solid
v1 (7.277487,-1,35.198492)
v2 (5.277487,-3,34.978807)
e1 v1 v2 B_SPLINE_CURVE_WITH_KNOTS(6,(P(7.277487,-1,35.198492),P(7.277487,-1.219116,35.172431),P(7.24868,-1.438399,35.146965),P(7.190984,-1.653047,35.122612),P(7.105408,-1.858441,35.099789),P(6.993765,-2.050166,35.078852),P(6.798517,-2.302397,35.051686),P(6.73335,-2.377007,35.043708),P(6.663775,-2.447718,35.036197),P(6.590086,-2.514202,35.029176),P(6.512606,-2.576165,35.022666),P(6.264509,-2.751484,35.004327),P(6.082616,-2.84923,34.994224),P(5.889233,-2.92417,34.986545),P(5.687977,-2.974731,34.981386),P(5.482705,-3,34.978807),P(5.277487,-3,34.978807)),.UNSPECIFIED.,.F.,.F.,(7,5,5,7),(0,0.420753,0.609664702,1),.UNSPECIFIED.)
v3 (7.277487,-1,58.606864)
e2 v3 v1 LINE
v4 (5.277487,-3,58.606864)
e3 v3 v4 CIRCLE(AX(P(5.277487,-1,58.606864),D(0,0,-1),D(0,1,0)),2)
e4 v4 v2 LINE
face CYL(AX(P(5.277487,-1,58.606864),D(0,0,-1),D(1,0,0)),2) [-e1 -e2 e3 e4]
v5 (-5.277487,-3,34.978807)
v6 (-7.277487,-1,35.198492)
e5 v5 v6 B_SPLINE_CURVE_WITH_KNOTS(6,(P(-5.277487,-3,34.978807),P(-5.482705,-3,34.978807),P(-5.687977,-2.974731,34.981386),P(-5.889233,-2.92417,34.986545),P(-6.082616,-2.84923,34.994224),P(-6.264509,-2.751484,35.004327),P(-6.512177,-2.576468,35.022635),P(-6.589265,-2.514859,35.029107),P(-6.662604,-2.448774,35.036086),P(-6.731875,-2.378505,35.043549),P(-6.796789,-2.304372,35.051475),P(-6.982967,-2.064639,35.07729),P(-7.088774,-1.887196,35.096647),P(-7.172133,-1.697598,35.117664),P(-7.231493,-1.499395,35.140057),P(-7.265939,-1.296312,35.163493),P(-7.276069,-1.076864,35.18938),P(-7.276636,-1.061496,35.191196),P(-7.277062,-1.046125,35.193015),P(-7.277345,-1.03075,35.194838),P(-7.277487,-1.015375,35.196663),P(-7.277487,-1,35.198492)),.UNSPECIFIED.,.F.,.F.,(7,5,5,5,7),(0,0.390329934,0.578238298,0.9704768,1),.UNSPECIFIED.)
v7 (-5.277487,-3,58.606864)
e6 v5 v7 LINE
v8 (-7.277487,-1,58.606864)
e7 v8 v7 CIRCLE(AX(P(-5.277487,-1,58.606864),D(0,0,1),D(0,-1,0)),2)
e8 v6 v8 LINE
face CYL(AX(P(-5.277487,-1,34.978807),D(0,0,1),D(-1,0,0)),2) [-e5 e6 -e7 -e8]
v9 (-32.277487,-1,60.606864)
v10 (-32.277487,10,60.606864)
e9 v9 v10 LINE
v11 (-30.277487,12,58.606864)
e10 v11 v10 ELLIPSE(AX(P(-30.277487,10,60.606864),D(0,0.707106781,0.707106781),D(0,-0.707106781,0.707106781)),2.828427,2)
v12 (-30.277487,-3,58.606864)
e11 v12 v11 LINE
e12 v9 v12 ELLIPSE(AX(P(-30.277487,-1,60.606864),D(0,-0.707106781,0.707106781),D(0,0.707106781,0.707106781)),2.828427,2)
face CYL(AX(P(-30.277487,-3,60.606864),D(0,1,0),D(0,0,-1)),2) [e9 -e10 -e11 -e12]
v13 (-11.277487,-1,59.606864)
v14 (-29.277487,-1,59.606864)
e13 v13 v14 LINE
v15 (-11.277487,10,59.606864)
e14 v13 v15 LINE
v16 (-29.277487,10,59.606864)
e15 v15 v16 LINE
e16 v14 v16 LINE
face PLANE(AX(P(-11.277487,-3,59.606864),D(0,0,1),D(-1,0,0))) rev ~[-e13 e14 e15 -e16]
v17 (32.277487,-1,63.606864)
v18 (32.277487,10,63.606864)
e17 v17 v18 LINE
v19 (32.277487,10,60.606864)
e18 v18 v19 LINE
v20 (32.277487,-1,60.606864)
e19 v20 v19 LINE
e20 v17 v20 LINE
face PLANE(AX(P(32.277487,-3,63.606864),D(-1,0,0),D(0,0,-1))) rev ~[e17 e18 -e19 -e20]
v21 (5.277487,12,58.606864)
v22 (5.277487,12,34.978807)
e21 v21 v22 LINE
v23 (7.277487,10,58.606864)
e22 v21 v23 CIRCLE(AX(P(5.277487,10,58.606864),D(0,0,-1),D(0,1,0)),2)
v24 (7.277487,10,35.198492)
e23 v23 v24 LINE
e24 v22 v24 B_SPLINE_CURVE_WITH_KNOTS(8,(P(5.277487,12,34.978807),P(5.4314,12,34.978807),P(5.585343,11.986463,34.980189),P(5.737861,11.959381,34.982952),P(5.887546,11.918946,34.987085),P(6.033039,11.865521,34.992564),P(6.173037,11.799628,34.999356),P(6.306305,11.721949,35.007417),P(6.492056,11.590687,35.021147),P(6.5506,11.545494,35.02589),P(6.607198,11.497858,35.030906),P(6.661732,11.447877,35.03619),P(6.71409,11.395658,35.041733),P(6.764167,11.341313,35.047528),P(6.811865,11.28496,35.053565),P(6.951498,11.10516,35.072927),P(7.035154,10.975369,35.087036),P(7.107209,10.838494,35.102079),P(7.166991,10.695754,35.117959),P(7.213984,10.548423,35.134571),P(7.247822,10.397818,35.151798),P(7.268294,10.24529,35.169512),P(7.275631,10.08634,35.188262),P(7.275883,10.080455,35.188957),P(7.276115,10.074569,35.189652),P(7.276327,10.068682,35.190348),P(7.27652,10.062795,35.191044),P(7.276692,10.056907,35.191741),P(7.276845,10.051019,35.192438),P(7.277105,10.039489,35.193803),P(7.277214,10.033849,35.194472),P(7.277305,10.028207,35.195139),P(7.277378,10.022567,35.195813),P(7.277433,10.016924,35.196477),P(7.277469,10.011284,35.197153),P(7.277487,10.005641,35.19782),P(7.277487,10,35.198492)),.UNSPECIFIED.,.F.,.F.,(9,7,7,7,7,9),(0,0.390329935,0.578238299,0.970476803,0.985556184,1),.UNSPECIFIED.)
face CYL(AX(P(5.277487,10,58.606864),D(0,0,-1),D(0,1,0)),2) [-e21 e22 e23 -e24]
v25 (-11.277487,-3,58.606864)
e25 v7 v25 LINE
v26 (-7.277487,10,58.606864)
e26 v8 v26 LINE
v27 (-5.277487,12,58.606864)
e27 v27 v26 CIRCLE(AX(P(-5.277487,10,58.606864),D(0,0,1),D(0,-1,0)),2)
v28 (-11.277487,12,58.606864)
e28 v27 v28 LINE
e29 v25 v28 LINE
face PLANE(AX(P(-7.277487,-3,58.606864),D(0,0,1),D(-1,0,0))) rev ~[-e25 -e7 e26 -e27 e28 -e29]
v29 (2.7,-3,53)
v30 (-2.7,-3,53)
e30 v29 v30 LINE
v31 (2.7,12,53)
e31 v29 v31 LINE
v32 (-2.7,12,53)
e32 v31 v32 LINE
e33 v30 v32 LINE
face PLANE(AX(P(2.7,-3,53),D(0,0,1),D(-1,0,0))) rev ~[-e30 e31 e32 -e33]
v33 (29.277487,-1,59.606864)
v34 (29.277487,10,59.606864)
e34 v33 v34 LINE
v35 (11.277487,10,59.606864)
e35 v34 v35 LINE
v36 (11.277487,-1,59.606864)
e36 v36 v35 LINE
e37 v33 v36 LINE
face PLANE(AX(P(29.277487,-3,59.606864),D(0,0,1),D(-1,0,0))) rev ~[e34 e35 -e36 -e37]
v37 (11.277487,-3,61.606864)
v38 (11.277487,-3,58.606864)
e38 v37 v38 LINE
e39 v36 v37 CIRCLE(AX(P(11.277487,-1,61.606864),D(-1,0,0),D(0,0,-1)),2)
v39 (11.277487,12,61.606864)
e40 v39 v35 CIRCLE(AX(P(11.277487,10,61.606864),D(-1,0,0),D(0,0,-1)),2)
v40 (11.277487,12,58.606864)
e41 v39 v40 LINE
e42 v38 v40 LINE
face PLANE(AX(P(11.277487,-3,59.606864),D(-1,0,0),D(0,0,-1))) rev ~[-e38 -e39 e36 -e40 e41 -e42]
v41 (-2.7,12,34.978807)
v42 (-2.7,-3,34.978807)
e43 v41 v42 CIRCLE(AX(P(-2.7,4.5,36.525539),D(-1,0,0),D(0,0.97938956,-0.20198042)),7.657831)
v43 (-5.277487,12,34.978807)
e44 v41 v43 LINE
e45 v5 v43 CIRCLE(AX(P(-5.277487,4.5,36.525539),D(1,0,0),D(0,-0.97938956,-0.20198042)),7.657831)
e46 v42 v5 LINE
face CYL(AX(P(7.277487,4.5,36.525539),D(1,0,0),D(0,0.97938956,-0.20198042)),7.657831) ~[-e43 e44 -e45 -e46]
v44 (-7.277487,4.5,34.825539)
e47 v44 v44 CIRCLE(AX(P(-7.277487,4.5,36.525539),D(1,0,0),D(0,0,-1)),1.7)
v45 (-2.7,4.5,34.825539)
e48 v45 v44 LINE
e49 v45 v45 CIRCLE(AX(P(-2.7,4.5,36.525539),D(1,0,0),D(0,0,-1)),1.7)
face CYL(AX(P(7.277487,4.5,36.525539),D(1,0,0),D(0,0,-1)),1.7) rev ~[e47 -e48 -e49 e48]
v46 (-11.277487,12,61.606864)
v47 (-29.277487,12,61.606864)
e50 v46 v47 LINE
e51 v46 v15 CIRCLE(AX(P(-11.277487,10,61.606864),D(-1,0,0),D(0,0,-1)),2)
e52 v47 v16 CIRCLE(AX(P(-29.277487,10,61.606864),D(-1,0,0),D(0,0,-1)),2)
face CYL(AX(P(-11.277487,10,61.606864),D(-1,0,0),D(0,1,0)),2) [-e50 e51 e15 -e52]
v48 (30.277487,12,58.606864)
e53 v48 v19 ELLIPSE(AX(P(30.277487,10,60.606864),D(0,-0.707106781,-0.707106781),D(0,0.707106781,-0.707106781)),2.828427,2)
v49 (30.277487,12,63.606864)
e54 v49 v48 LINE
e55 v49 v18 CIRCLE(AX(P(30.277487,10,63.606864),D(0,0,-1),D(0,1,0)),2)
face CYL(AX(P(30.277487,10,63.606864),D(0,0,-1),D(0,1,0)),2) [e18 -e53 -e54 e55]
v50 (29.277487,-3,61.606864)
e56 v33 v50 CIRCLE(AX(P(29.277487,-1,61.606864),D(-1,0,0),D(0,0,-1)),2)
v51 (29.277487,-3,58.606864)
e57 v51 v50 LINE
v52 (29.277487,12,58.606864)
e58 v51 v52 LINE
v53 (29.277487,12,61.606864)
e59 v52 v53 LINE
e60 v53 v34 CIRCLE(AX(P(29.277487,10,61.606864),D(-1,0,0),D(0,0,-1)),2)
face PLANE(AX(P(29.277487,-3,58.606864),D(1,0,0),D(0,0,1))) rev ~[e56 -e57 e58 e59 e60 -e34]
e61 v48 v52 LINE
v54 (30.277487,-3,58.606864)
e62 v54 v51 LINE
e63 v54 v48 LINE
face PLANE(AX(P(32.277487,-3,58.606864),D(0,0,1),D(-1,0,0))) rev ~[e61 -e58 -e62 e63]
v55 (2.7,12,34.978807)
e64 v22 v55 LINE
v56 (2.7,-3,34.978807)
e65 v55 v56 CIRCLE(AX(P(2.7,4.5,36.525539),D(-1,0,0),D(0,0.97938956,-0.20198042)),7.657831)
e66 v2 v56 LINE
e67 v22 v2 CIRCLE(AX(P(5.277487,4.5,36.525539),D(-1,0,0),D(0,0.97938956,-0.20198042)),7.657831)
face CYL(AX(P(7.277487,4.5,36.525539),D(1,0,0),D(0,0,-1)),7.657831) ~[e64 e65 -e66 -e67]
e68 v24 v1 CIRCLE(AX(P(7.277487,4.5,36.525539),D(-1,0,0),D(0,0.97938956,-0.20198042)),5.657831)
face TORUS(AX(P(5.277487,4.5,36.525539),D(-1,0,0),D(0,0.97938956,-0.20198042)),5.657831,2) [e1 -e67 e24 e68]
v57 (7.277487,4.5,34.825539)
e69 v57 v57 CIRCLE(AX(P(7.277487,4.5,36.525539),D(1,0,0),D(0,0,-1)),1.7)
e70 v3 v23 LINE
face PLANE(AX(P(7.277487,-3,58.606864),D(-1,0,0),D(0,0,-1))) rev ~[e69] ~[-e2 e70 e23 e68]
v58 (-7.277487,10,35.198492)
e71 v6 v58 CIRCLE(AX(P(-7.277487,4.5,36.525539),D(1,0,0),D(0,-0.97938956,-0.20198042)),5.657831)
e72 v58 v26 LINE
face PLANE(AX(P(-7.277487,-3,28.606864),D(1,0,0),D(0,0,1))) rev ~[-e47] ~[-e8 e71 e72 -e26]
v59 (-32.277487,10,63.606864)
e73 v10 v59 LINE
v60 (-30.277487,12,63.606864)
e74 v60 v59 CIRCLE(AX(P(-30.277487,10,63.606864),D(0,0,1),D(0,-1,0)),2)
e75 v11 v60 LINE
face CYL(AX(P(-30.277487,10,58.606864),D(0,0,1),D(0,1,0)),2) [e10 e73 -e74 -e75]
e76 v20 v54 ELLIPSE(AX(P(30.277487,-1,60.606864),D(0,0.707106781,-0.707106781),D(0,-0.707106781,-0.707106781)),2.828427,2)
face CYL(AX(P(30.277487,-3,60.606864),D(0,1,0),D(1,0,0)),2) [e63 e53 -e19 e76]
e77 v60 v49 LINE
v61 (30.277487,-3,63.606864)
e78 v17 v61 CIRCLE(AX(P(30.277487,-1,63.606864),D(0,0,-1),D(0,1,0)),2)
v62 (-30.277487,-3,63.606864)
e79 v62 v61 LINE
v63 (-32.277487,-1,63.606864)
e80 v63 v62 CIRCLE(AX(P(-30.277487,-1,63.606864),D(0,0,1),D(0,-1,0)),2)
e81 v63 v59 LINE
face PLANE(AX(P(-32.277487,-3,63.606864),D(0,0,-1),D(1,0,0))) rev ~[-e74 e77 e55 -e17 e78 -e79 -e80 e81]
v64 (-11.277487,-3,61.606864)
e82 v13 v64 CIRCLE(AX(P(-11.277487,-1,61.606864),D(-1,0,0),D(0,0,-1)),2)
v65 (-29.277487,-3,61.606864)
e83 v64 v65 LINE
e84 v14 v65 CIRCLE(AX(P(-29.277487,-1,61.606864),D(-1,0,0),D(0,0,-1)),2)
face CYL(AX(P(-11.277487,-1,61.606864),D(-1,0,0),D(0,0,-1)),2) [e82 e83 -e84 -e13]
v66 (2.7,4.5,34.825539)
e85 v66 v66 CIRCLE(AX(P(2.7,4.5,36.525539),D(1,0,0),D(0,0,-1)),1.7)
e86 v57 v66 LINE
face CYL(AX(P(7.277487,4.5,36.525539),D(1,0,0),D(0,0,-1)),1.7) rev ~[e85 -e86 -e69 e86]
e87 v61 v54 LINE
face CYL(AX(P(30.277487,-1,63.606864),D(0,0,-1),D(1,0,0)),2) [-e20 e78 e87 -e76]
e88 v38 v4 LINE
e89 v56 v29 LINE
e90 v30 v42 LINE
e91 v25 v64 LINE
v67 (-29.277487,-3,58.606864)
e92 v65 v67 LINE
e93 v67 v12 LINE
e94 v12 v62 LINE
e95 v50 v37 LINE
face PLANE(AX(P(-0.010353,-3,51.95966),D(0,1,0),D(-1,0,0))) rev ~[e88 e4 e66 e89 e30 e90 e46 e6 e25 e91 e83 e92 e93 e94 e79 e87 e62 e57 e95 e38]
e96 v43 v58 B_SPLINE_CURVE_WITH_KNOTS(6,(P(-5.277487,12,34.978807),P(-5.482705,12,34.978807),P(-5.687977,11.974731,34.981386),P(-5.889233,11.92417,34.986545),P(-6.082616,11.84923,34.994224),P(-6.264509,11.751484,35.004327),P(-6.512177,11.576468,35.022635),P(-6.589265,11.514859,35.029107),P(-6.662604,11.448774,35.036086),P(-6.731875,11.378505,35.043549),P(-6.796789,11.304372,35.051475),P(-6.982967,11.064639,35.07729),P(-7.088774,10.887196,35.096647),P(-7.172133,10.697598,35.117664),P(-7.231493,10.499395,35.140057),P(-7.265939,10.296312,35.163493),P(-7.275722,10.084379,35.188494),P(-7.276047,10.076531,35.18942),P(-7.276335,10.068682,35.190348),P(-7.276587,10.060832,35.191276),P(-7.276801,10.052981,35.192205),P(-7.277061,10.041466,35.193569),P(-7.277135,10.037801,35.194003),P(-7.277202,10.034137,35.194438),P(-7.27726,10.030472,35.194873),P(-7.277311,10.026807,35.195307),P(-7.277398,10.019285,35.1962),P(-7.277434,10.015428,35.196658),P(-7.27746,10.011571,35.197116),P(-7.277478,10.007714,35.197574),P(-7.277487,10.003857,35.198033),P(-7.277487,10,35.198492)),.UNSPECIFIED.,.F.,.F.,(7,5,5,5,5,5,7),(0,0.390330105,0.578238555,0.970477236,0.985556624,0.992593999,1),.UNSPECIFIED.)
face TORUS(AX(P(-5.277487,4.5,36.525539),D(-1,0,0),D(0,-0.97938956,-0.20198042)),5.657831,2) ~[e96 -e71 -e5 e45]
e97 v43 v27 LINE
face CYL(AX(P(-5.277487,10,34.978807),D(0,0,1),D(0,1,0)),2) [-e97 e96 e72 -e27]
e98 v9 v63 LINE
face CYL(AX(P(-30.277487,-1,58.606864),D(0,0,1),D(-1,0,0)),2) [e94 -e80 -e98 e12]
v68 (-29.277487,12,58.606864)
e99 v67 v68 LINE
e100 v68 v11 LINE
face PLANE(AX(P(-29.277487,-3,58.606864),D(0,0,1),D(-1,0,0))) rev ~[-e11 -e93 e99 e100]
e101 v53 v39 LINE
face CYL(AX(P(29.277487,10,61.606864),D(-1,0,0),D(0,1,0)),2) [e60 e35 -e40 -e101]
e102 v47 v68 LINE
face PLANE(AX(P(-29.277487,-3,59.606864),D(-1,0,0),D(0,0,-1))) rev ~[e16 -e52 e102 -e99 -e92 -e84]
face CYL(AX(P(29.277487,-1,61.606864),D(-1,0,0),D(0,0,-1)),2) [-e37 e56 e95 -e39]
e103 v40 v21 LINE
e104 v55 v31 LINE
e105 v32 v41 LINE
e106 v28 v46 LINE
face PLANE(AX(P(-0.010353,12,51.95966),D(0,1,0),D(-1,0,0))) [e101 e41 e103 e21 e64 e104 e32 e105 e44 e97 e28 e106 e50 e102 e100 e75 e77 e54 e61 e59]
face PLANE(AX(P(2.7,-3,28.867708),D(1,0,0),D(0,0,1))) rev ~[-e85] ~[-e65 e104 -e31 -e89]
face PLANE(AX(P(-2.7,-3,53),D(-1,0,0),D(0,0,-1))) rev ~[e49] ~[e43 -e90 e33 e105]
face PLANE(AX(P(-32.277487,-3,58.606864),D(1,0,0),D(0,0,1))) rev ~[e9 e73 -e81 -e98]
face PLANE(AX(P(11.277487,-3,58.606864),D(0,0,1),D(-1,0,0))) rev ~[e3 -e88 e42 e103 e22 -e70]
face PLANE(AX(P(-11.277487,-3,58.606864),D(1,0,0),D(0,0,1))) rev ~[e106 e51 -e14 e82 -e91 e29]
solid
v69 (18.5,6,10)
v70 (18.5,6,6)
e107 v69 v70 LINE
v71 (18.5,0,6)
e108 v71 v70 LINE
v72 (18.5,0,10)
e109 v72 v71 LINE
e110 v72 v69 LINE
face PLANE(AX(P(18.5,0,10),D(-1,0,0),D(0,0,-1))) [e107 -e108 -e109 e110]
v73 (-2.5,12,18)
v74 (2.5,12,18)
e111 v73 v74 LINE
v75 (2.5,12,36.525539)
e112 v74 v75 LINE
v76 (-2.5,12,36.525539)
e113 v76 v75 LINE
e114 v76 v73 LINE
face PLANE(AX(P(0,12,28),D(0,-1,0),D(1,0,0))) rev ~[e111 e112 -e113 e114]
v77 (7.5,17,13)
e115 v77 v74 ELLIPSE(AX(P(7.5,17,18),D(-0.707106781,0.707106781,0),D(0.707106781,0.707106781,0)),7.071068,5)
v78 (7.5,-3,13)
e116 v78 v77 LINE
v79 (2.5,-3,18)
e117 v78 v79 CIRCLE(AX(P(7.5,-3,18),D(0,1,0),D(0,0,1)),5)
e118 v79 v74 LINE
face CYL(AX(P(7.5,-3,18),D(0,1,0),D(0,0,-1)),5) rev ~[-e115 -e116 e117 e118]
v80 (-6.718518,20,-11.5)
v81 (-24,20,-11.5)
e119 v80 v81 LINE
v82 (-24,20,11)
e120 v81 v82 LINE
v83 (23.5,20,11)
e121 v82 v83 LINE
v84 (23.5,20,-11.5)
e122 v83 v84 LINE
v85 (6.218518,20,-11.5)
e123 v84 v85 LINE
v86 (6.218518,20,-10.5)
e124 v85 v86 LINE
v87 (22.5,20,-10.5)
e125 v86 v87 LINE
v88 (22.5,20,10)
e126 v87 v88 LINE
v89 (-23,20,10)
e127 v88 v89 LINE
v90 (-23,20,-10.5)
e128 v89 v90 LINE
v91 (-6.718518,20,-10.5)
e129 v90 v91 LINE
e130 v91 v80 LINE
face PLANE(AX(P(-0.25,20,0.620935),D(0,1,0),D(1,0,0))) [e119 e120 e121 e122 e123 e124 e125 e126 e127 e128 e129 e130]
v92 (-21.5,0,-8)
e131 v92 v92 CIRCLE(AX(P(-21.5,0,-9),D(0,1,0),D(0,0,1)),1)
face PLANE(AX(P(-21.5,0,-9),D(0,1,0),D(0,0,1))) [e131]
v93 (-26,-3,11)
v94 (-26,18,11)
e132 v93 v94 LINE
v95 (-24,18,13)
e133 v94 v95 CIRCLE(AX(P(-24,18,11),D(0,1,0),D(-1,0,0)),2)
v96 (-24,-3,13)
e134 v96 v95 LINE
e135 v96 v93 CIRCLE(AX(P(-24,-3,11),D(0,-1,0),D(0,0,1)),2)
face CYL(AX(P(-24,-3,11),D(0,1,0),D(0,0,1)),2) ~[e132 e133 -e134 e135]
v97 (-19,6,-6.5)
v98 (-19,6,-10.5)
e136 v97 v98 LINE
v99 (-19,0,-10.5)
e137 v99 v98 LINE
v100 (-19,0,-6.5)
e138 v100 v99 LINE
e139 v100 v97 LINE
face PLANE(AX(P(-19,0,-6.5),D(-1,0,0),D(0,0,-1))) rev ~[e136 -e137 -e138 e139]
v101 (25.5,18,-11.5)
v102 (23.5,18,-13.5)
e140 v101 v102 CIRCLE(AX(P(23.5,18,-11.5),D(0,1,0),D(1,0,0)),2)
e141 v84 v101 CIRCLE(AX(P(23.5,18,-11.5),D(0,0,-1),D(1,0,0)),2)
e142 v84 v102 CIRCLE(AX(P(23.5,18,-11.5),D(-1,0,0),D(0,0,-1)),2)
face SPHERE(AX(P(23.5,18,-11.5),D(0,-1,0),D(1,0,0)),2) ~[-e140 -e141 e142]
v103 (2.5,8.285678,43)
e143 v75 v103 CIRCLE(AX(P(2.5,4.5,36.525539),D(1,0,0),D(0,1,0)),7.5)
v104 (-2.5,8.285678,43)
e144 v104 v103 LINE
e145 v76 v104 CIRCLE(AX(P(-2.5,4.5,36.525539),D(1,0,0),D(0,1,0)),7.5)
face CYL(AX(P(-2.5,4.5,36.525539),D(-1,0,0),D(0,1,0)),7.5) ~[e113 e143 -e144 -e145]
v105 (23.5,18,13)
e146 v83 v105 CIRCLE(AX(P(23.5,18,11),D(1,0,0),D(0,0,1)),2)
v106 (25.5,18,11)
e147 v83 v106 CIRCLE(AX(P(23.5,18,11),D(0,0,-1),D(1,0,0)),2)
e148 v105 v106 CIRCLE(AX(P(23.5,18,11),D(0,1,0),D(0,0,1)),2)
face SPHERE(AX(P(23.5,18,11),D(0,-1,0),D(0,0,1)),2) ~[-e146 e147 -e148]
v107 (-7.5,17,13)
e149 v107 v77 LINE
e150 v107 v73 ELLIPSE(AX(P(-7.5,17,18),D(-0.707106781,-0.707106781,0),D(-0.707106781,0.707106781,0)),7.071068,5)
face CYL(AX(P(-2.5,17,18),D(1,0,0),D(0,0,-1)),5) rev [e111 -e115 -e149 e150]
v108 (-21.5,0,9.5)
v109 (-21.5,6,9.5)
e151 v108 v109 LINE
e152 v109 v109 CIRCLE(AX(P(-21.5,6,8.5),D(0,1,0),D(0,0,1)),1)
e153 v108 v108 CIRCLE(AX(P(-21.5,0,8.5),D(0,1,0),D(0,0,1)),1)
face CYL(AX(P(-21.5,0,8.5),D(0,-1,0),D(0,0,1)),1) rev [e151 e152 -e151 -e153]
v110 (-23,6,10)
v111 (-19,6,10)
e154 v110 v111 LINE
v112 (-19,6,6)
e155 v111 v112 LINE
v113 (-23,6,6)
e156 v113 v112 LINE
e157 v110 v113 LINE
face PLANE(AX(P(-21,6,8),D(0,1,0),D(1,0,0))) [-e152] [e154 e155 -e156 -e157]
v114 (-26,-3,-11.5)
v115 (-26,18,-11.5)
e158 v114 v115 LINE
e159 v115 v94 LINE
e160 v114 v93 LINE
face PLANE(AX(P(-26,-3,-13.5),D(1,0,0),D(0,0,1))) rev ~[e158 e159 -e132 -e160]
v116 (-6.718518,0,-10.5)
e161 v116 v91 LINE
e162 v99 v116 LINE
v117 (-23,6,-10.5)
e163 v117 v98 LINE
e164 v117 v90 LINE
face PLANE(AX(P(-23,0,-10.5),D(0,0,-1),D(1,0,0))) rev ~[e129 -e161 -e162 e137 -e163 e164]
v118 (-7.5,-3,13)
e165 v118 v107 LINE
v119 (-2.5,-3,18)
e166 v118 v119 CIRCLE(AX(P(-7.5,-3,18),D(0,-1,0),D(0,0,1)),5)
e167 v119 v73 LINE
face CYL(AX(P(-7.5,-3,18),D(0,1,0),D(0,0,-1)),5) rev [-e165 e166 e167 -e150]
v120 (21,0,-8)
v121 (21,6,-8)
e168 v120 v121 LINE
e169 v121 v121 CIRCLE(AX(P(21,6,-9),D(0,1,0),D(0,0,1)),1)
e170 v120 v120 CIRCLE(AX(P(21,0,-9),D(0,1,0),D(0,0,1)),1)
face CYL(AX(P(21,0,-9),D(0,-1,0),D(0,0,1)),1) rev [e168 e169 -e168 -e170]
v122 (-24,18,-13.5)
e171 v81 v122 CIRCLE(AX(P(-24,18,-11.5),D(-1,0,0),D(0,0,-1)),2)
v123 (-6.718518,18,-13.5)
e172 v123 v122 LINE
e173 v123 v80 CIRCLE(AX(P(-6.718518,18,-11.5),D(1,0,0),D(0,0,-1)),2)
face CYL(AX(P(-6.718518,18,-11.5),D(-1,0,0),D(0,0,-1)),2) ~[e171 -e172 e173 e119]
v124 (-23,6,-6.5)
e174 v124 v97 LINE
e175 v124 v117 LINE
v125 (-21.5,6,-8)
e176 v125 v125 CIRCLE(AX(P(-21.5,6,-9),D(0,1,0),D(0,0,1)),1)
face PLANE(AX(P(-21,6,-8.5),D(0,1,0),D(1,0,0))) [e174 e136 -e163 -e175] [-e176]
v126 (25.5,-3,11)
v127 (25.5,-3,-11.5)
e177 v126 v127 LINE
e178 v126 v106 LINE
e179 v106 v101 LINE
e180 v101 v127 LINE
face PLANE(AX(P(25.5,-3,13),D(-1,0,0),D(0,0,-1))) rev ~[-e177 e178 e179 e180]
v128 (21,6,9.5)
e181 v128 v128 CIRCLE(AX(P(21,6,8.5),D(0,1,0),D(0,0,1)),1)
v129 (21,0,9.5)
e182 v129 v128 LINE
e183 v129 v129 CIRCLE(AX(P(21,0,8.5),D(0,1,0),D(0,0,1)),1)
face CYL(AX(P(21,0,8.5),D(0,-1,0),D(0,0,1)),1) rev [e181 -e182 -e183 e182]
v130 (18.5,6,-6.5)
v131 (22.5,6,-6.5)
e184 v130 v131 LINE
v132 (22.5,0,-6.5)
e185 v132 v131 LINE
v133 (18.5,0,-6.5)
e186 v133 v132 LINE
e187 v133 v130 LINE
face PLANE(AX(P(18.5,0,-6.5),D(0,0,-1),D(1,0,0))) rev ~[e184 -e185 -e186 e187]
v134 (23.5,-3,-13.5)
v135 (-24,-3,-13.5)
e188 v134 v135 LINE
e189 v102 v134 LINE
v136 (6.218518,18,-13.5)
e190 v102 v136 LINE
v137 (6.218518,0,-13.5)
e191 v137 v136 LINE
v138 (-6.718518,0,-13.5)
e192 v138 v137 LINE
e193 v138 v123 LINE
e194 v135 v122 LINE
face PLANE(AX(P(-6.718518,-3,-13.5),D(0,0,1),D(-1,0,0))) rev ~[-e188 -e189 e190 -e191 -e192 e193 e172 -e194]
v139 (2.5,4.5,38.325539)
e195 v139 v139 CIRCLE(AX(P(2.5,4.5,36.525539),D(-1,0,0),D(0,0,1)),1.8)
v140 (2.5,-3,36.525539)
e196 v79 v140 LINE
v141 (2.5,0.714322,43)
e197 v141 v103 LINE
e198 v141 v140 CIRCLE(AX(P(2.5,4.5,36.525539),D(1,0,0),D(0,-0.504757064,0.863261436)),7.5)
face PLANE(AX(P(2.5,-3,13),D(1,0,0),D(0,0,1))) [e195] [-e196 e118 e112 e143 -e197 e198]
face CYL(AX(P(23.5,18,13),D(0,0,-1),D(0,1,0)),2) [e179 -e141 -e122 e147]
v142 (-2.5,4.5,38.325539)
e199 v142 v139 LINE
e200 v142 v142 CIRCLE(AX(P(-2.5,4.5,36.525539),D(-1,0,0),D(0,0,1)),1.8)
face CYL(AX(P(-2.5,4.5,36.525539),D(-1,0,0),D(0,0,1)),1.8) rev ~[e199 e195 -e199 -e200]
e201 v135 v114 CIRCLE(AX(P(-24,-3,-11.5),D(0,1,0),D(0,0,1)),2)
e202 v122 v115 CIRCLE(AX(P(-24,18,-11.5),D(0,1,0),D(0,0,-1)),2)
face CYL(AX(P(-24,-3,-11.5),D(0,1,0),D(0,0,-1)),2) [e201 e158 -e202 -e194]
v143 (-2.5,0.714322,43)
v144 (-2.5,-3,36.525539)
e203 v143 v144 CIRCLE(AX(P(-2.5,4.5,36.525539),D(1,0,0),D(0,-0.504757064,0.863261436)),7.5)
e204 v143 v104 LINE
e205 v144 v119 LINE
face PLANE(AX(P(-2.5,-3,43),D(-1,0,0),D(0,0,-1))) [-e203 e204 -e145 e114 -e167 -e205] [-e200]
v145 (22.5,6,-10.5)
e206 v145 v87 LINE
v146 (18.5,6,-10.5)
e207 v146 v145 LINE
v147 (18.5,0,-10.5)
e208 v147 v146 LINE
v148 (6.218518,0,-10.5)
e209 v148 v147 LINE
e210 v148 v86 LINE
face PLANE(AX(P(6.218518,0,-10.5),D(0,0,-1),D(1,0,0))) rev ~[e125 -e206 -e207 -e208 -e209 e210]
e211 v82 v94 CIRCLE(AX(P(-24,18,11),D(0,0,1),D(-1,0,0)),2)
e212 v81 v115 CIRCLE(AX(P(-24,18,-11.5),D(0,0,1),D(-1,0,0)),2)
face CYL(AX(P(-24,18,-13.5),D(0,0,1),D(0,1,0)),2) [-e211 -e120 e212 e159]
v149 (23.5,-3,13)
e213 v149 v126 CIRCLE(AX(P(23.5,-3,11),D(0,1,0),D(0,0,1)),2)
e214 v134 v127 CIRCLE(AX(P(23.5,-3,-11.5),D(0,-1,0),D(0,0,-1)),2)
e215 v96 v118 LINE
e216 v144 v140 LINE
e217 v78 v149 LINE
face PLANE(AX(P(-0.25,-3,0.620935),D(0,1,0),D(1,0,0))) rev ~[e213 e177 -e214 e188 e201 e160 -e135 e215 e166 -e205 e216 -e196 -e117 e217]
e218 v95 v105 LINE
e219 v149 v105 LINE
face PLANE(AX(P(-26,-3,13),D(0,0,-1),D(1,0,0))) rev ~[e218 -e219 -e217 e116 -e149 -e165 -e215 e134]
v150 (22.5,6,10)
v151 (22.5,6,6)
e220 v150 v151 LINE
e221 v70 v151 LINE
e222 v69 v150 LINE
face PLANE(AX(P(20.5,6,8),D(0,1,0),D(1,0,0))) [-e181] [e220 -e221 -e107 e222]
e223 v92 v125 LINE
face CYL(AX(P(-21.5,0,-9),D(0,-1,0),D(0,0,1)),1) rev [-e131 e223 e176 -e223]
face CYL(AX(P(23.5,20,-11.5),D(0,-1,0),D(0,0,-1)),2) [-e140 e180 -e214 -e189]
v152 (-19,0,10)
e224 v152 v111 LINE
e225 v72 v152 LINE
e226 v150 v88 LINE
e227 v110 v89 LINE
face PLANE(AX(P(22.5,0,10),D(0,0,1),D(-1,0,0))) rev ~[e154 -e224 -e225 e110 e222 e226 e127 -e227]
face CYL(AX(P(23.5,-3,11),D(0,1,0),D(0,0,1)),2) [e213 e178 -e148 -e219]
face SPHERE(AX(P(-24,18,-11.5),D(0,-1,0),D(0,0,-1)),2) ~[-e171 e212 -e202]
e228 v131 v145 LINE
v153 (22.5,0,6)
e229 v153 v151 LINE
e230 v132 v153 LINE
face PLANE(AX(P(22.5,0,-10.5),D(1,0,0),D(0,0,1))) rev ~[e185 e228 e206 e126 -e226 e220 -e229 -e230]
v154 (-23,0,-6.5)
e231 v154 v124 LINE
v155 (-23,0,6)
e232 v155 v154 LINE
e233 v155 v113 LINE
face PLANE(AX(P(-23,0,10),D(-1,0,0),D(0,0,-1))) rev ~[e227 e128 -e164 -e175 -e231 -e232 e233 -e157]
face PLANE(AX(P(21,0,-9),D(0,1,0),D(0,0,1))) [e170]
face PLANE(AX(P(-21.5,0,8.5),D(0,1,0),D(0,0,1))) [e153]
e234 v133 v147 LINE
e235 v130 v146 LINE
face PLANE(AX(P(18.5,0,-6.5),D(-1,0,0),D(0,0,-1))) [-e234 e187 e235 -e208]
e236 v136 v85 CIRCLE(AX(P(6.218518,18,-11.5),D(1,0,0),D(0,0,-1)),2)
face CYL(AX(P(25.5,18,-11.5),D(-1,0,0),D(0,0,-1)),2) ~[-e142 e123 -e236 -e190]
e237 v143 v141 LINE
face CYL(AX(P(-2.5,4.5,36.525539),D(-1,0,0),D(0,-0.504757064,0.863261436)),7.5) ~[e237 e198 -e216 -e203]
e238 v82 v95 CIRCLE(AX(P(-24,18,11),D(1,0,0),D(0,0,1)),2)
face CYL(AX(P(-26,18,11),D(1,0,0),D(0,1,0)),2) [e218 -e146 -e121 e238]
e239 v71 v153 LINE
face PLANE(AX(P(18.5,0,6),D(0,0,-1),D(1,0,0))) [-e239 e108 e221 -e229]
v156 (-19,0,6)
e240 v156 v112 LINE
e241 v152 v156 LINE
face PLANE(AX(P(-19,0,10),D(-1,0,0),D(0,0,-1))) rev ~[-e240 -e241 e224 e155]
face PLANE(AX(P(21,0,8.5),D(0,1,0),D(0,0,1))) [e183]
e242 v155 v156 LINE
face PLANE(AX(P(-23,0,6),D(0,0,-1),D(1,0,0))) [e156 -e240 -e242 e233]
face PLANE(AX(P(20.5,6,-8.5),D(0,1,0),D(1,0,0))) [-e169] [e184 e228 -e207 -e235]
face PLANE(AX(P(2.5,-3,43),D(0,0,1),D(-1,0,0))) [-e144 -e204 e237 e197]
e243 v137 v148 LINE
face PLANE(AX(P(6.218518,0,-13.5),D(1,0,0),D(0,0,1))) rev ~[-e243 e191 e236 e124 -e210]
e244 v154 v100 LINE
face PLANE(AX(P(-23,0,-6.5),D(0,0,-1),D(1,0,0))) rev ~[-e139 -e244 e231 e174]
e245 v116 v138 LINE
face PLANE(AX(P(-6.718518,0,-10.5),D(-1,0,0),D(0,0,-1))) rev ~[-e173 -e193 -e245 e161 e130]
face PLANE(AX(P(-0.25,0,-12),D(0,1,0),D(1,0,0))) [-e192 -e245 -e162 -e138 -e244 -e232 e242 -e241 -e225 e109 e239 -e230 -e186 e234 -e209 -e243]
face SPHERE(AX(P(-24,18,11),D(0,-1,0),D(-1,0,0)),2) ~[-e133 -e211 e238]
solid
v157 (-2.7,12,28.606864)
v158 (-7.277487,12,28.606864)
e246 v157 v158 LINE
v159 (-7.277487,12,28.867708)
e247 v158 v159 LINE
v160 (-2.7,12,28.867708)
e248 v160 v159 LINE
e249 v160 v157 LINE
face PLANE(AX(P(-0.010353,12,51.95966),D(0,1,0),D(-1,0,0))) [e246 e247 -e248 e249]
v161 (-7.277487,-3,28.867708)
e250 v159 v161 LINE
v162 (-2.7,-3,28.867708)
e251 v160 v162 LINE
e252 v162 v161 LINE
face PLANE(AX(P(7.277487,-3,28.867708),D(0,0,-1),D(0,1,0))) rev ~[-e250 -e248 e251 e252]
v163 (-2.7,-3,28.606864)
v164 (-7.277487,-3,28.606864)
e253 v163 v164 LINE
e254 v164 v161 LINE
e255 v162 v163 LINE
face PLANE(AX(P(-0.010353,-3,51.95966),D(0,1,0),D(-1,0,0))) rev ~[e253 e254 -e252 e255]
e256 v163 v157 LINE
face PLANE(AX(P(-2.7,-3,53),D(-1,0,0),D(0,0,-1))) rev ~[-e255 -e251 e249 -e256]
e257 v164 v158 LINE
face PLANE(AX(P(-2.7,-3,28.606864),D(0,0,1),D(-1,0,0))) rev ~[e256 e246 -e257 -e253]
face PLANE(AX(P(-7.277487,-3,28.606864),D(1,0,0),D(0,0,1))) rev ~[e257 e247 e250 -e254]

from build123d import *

# Parameters (mm, degrees)
EXTRUDE_1_DEPTH     = 20
SKETCH_1_3_W        = 4
SKETCH_1_3_H        = 4
SKETCH_1_3_R        = 1
EXTRUDE_2_DEPTH     = 6
SKETCH_1_4_W        = 51.5
SKETCH_1_4_H        = 26.5
EXTRUDE_3_DEPTH     = 3
FILLET_1_R          = 2
EXTRUDE_4_DEPTH     = 15
SKETCH_4_R          = 1.8
CUT_EXTRUDE_1_DEPTH = 5
FILLET_2_R          = 5
EXTRUDE_5_DEPTH     = 15
SKETCH_6_R          = 1.7
CUT_EXTRUDE_2_DEPTH = 15
FILLET_3_R          = 2


with BuildPart() as part:
    # Эскиз1 → Бобышка-Вытянуть1 (new body)
    with BuildSketch(Plane(origin=(0, 0, 0), x_dir=(1, 0, 0), z_dir=(0, 1, 0))):
        Polygon((-23, 6.5), (-23, 10.5), (-19, 10.5), (-6.718518259, 10.5), (-6.718518259, 13.5), (-26, 13.5), (-26, -13), (25.5, -13), (25.5, 13.5), (6.218518259, 13.5), (6.218518259, 10.5), (18.5, 10.5), (22.5, 10.5), (22.5, 6.5), (22.5, -6), (22.5, -10), (18.5, -10), (-19, -10), (-23, -10), (-23, -6), align=None)
    extrude(amount=EXTRUDE_1_DEPTH)

    # Эскиз1<3> → Бобышка-Вытянуть2 (add)
    # profile 1 of 4: a face of its own
    with BuildSketch(Plane(origin=(0, 0, 0), x_dir=(1, 0, 0), z_dir=(0, 1, 0))):
        with Locations((-21, 8.5)):
            Rectangle(SKETCH_1_3_W, SKETCH_1_3_H)
        with Locations((-21.5, 9)):
            Circle(SKETCH_1_3_R, mode=Mode.SUBTRACT)
    # profile 2 of 4: a face of its own
    with BuildSketch(Plane(origin=(0, 0, 0), x_dir=(1, 0, 0), z_dir=(0, 1, 0))):
        with Locations((-21, -8)):
            Rectangle(SKETCH_1_3_W, SKETCH_1_3_H)
        with Locations((-21.5, -8.5)):
            Circle(SKETCH_1_3_R, mode=Mode.SUBTRACT)
    # profile 3 of 4: a face of its own
    with BuildSketch(Plane(origin=(0, 0, 0), x_dir=(1, 0, 0), z_dir=(0, 1, 0))):
        with Locations((20.5, 8.5)):
            Rectangle(SKETCH_1_3_W, SKETCH_1_3_H)
        with Locations((21, 9)):
            Circle(SKETCH_1_3_R, mode=Mode.SUBTRACT)
    # profile 4 of 4: a face of its own
    with BuildSketch(Plane(origin=(0, 0, 0), x_dir=(1, 0, 0), z_dir=(0, 1, 0))):
        with Locations((20.5, -8)):
            Rectangle(SKETCH_1_3_W, SKETCH_1_3_H)
        with Locations((21, -8.5)):
            Circle(SKETCH_1_3_R, mode=Mode.SUBTRACT)
    extrude(amount=EXTRUDE_2_DEPTH)

    # Эскиз1<4> → Бобышка-Вытянуть3 (add)
    with BuildSketch(Plane(origin=(0, 0, 0), x_dir=(1, 0, 0), z_dir=(0, 1, 0))):
        with Locations((-0.25, 0.25)):
            Rectangle(SKETCH_1_4_W, SKETCH_1_4_H)
    extrude(amount=-EXTRUDE_3_DEPTH)

    # Скругление1
    fillet_1_edges = [part.edges().sort_by_distance(p)[0] for p in [
        (-26, 20, -0.25),
        (-16.359259129, 20, -13.5),
        (15.859259129, 20, -13.5),
        (25.5, 20, -0.25),
        (-0.25, 20, 13),
        (-26, 8.5, 13),
        (-26, 8.5, -13.5),
        (25.5, 8.5, -13.5),
        (25.5, 8.5, 13),
    ]]
    fillet(fillet_1_edges, radius=FILLET_1_R)

    # Эскиз3 → Бобышка-Вытянуть4 (add)
    with BuildSketch(Plane.XZ.offset(3)):
        Polygon((2.5, 13), (2.5, 43), (0, 43), (-2.5, 43), (-2.5, 13), align=None)
    extrude(amount=-EXTRUDE_4_DEPTH)

    # Эскиз4 → Вырез-Вытянуть1 (cut)
    with BuildSketch(Plane.ZY.offset(2.5)):
        with Locations((36.52553923, 4.5)):
            Circle(SKETCH_4_R)
        with BuildLine():
            ThreePointArc((36.52553923, 12), (40.257657608, 11.00548172), (43, 8.285677977))
            Line((43, 8.285677977), (43, 12))
            Line((43, 12), (36.52553923, 12))
        make_face()
        with BuildLine():
            Line((43, -3), (43, 0.714322023))
            ThreePointArc((43, 0.714322023), (40.257657608, -2.00548172), (36.52553923, -3))
            Line((36.52553923, -3), (43, -3))
        make_face()
    extrude(amount=-CUT_EXTRUDE_1_DEPTH, mode=Mode.SUBTRACT)

    # Скругление2
    fillet_2_edges = [part.edges().sort_by_distance(p)[0] for p in [
        (0, 12, 13),
        (2.5, 4.5, 13),
        (-2.5, 4.5, 13),
    ]]
    fillet(fillet_2_edges, radius=FILLET_2_R)


with BuildPart() as body_2:
    # Эскиз5 → Бобышка-Вытянуть5 (new body)
    with BuildSketch(Plane.XZ.offset(3)):
        Polygon((2.7, 53), (-2.7, 53), (-2.7, 28.606863908), (-7.277487258, 28.606863908), (-7.277487258, 58.606863908), (-11.277487258, 58.606863908), (-11.277487258, 59.606863908), (-29.277487258, 59.606863908), (-29.277487258, 58.606863908), (-32.277487258, 58.606863908), (-32.277487258, 63.606863908), (32.277487258, 63.606863908), (32.277487258, 58.606863908), (29.277487258, 58.606863908), (29.277487258, 59.606863908), (11.277487258, 59.606863908), (11.277487258, 58.606863908), (7.277487258, 58.606863908), (7.277487258, 28.867707957), (2.7, 28.867707957), align=None)
    extrude(amount=-EXTRUDE_5_DEPTH)

    # Эскиз6 → Вырез-Вытянуть2 (cut)
    with BuildSketch(Plane(origin=(7.277487258, 0, 0), x_dir=(0, 0, -1), z_dir=(1, 0, 0))):
        with Locations((-36.52553923, 4.5)):
            Circle(SKETCH_6_R)
        with BuildLine():
            ThreePointArc((-34.978807252, 12), (-30.588915934, 9.337239259), (-28.867707957, 4.5))
            Line((-28.867707957, 4.5), (-28.867707957, 12))
            Line((-28.867707957, 12), (-34.978807252, 12))
        make_face()
        with BuildLine():
            Line((-28.867707957, -3), (-28.867707957, 4.5))
            ThreePointArc((-28.867707957, 4.5), (-30.588915934, -0.337239259), (-34.978807252, -3))
            Line((-34.978807252, -3), (-28.867707957, -3))
        make_face()
    extrude(amount=-CUT_EXTRUDE_2_DEPTH, mode=Mode.SUBTRACT)


with BuildPart() as cut_extrude_2_piece_1:
    # of the separate pieces the step leaves, piece 1, a body of its own (cut_extrude_2_pieces)
    add(body_2.part.solids().sort_by_distance((2.7, -3, 53))[0])

    # Скругление3
    fillet_3_edges = [cut_extrude_2_piece_1.edges().sort_by_distance(p)[0] for p in [
        (32.277487258, 12, 61.106863908),
        (-32.277487258, 12, 61.106863908),
        (-32.277487258, -3, 61.106863908),
        (32.277487258, -3, 61.106863908),
        (20.277487258, -3, 59.606863908),
        (20.277487258, 12, 59.606863908),
        (-20.277487258, 12, 59.606863908),
        (-20.277487258, -3, 59.606863908),
        (-32.277487258, 4.5, 58.606863908),
        (32.277487258, 4.5, 58.606863908),
        (-7.277487258, 9.337239259, 30.588915934),
        (7.277487258, 4.5, 28.867707957),
        (-7.277487258, -3, 46.79283558),
        (7.277487258, -3, 46.79283558),
        (-7.277487258, 12, 46.79283558),
        (7.277487258, 12, 46.79283558),
    ]]
    fillet(fillet_3_edges, radius=FILLET_3_R)


with BuildPart() as cut_extrude_2_piece_2:
    # of the separate pieces the step leaves, piece 2, a body of its own (cut_extrude_2_pieces)
    add(body_2.part.solids().sort_by_distance((-2.7, -3, 28.867707957))[0])


solid = Compound([part.part, cut_extrude_2_piece_1.part, cut_extrude_2_piece_2.part])
